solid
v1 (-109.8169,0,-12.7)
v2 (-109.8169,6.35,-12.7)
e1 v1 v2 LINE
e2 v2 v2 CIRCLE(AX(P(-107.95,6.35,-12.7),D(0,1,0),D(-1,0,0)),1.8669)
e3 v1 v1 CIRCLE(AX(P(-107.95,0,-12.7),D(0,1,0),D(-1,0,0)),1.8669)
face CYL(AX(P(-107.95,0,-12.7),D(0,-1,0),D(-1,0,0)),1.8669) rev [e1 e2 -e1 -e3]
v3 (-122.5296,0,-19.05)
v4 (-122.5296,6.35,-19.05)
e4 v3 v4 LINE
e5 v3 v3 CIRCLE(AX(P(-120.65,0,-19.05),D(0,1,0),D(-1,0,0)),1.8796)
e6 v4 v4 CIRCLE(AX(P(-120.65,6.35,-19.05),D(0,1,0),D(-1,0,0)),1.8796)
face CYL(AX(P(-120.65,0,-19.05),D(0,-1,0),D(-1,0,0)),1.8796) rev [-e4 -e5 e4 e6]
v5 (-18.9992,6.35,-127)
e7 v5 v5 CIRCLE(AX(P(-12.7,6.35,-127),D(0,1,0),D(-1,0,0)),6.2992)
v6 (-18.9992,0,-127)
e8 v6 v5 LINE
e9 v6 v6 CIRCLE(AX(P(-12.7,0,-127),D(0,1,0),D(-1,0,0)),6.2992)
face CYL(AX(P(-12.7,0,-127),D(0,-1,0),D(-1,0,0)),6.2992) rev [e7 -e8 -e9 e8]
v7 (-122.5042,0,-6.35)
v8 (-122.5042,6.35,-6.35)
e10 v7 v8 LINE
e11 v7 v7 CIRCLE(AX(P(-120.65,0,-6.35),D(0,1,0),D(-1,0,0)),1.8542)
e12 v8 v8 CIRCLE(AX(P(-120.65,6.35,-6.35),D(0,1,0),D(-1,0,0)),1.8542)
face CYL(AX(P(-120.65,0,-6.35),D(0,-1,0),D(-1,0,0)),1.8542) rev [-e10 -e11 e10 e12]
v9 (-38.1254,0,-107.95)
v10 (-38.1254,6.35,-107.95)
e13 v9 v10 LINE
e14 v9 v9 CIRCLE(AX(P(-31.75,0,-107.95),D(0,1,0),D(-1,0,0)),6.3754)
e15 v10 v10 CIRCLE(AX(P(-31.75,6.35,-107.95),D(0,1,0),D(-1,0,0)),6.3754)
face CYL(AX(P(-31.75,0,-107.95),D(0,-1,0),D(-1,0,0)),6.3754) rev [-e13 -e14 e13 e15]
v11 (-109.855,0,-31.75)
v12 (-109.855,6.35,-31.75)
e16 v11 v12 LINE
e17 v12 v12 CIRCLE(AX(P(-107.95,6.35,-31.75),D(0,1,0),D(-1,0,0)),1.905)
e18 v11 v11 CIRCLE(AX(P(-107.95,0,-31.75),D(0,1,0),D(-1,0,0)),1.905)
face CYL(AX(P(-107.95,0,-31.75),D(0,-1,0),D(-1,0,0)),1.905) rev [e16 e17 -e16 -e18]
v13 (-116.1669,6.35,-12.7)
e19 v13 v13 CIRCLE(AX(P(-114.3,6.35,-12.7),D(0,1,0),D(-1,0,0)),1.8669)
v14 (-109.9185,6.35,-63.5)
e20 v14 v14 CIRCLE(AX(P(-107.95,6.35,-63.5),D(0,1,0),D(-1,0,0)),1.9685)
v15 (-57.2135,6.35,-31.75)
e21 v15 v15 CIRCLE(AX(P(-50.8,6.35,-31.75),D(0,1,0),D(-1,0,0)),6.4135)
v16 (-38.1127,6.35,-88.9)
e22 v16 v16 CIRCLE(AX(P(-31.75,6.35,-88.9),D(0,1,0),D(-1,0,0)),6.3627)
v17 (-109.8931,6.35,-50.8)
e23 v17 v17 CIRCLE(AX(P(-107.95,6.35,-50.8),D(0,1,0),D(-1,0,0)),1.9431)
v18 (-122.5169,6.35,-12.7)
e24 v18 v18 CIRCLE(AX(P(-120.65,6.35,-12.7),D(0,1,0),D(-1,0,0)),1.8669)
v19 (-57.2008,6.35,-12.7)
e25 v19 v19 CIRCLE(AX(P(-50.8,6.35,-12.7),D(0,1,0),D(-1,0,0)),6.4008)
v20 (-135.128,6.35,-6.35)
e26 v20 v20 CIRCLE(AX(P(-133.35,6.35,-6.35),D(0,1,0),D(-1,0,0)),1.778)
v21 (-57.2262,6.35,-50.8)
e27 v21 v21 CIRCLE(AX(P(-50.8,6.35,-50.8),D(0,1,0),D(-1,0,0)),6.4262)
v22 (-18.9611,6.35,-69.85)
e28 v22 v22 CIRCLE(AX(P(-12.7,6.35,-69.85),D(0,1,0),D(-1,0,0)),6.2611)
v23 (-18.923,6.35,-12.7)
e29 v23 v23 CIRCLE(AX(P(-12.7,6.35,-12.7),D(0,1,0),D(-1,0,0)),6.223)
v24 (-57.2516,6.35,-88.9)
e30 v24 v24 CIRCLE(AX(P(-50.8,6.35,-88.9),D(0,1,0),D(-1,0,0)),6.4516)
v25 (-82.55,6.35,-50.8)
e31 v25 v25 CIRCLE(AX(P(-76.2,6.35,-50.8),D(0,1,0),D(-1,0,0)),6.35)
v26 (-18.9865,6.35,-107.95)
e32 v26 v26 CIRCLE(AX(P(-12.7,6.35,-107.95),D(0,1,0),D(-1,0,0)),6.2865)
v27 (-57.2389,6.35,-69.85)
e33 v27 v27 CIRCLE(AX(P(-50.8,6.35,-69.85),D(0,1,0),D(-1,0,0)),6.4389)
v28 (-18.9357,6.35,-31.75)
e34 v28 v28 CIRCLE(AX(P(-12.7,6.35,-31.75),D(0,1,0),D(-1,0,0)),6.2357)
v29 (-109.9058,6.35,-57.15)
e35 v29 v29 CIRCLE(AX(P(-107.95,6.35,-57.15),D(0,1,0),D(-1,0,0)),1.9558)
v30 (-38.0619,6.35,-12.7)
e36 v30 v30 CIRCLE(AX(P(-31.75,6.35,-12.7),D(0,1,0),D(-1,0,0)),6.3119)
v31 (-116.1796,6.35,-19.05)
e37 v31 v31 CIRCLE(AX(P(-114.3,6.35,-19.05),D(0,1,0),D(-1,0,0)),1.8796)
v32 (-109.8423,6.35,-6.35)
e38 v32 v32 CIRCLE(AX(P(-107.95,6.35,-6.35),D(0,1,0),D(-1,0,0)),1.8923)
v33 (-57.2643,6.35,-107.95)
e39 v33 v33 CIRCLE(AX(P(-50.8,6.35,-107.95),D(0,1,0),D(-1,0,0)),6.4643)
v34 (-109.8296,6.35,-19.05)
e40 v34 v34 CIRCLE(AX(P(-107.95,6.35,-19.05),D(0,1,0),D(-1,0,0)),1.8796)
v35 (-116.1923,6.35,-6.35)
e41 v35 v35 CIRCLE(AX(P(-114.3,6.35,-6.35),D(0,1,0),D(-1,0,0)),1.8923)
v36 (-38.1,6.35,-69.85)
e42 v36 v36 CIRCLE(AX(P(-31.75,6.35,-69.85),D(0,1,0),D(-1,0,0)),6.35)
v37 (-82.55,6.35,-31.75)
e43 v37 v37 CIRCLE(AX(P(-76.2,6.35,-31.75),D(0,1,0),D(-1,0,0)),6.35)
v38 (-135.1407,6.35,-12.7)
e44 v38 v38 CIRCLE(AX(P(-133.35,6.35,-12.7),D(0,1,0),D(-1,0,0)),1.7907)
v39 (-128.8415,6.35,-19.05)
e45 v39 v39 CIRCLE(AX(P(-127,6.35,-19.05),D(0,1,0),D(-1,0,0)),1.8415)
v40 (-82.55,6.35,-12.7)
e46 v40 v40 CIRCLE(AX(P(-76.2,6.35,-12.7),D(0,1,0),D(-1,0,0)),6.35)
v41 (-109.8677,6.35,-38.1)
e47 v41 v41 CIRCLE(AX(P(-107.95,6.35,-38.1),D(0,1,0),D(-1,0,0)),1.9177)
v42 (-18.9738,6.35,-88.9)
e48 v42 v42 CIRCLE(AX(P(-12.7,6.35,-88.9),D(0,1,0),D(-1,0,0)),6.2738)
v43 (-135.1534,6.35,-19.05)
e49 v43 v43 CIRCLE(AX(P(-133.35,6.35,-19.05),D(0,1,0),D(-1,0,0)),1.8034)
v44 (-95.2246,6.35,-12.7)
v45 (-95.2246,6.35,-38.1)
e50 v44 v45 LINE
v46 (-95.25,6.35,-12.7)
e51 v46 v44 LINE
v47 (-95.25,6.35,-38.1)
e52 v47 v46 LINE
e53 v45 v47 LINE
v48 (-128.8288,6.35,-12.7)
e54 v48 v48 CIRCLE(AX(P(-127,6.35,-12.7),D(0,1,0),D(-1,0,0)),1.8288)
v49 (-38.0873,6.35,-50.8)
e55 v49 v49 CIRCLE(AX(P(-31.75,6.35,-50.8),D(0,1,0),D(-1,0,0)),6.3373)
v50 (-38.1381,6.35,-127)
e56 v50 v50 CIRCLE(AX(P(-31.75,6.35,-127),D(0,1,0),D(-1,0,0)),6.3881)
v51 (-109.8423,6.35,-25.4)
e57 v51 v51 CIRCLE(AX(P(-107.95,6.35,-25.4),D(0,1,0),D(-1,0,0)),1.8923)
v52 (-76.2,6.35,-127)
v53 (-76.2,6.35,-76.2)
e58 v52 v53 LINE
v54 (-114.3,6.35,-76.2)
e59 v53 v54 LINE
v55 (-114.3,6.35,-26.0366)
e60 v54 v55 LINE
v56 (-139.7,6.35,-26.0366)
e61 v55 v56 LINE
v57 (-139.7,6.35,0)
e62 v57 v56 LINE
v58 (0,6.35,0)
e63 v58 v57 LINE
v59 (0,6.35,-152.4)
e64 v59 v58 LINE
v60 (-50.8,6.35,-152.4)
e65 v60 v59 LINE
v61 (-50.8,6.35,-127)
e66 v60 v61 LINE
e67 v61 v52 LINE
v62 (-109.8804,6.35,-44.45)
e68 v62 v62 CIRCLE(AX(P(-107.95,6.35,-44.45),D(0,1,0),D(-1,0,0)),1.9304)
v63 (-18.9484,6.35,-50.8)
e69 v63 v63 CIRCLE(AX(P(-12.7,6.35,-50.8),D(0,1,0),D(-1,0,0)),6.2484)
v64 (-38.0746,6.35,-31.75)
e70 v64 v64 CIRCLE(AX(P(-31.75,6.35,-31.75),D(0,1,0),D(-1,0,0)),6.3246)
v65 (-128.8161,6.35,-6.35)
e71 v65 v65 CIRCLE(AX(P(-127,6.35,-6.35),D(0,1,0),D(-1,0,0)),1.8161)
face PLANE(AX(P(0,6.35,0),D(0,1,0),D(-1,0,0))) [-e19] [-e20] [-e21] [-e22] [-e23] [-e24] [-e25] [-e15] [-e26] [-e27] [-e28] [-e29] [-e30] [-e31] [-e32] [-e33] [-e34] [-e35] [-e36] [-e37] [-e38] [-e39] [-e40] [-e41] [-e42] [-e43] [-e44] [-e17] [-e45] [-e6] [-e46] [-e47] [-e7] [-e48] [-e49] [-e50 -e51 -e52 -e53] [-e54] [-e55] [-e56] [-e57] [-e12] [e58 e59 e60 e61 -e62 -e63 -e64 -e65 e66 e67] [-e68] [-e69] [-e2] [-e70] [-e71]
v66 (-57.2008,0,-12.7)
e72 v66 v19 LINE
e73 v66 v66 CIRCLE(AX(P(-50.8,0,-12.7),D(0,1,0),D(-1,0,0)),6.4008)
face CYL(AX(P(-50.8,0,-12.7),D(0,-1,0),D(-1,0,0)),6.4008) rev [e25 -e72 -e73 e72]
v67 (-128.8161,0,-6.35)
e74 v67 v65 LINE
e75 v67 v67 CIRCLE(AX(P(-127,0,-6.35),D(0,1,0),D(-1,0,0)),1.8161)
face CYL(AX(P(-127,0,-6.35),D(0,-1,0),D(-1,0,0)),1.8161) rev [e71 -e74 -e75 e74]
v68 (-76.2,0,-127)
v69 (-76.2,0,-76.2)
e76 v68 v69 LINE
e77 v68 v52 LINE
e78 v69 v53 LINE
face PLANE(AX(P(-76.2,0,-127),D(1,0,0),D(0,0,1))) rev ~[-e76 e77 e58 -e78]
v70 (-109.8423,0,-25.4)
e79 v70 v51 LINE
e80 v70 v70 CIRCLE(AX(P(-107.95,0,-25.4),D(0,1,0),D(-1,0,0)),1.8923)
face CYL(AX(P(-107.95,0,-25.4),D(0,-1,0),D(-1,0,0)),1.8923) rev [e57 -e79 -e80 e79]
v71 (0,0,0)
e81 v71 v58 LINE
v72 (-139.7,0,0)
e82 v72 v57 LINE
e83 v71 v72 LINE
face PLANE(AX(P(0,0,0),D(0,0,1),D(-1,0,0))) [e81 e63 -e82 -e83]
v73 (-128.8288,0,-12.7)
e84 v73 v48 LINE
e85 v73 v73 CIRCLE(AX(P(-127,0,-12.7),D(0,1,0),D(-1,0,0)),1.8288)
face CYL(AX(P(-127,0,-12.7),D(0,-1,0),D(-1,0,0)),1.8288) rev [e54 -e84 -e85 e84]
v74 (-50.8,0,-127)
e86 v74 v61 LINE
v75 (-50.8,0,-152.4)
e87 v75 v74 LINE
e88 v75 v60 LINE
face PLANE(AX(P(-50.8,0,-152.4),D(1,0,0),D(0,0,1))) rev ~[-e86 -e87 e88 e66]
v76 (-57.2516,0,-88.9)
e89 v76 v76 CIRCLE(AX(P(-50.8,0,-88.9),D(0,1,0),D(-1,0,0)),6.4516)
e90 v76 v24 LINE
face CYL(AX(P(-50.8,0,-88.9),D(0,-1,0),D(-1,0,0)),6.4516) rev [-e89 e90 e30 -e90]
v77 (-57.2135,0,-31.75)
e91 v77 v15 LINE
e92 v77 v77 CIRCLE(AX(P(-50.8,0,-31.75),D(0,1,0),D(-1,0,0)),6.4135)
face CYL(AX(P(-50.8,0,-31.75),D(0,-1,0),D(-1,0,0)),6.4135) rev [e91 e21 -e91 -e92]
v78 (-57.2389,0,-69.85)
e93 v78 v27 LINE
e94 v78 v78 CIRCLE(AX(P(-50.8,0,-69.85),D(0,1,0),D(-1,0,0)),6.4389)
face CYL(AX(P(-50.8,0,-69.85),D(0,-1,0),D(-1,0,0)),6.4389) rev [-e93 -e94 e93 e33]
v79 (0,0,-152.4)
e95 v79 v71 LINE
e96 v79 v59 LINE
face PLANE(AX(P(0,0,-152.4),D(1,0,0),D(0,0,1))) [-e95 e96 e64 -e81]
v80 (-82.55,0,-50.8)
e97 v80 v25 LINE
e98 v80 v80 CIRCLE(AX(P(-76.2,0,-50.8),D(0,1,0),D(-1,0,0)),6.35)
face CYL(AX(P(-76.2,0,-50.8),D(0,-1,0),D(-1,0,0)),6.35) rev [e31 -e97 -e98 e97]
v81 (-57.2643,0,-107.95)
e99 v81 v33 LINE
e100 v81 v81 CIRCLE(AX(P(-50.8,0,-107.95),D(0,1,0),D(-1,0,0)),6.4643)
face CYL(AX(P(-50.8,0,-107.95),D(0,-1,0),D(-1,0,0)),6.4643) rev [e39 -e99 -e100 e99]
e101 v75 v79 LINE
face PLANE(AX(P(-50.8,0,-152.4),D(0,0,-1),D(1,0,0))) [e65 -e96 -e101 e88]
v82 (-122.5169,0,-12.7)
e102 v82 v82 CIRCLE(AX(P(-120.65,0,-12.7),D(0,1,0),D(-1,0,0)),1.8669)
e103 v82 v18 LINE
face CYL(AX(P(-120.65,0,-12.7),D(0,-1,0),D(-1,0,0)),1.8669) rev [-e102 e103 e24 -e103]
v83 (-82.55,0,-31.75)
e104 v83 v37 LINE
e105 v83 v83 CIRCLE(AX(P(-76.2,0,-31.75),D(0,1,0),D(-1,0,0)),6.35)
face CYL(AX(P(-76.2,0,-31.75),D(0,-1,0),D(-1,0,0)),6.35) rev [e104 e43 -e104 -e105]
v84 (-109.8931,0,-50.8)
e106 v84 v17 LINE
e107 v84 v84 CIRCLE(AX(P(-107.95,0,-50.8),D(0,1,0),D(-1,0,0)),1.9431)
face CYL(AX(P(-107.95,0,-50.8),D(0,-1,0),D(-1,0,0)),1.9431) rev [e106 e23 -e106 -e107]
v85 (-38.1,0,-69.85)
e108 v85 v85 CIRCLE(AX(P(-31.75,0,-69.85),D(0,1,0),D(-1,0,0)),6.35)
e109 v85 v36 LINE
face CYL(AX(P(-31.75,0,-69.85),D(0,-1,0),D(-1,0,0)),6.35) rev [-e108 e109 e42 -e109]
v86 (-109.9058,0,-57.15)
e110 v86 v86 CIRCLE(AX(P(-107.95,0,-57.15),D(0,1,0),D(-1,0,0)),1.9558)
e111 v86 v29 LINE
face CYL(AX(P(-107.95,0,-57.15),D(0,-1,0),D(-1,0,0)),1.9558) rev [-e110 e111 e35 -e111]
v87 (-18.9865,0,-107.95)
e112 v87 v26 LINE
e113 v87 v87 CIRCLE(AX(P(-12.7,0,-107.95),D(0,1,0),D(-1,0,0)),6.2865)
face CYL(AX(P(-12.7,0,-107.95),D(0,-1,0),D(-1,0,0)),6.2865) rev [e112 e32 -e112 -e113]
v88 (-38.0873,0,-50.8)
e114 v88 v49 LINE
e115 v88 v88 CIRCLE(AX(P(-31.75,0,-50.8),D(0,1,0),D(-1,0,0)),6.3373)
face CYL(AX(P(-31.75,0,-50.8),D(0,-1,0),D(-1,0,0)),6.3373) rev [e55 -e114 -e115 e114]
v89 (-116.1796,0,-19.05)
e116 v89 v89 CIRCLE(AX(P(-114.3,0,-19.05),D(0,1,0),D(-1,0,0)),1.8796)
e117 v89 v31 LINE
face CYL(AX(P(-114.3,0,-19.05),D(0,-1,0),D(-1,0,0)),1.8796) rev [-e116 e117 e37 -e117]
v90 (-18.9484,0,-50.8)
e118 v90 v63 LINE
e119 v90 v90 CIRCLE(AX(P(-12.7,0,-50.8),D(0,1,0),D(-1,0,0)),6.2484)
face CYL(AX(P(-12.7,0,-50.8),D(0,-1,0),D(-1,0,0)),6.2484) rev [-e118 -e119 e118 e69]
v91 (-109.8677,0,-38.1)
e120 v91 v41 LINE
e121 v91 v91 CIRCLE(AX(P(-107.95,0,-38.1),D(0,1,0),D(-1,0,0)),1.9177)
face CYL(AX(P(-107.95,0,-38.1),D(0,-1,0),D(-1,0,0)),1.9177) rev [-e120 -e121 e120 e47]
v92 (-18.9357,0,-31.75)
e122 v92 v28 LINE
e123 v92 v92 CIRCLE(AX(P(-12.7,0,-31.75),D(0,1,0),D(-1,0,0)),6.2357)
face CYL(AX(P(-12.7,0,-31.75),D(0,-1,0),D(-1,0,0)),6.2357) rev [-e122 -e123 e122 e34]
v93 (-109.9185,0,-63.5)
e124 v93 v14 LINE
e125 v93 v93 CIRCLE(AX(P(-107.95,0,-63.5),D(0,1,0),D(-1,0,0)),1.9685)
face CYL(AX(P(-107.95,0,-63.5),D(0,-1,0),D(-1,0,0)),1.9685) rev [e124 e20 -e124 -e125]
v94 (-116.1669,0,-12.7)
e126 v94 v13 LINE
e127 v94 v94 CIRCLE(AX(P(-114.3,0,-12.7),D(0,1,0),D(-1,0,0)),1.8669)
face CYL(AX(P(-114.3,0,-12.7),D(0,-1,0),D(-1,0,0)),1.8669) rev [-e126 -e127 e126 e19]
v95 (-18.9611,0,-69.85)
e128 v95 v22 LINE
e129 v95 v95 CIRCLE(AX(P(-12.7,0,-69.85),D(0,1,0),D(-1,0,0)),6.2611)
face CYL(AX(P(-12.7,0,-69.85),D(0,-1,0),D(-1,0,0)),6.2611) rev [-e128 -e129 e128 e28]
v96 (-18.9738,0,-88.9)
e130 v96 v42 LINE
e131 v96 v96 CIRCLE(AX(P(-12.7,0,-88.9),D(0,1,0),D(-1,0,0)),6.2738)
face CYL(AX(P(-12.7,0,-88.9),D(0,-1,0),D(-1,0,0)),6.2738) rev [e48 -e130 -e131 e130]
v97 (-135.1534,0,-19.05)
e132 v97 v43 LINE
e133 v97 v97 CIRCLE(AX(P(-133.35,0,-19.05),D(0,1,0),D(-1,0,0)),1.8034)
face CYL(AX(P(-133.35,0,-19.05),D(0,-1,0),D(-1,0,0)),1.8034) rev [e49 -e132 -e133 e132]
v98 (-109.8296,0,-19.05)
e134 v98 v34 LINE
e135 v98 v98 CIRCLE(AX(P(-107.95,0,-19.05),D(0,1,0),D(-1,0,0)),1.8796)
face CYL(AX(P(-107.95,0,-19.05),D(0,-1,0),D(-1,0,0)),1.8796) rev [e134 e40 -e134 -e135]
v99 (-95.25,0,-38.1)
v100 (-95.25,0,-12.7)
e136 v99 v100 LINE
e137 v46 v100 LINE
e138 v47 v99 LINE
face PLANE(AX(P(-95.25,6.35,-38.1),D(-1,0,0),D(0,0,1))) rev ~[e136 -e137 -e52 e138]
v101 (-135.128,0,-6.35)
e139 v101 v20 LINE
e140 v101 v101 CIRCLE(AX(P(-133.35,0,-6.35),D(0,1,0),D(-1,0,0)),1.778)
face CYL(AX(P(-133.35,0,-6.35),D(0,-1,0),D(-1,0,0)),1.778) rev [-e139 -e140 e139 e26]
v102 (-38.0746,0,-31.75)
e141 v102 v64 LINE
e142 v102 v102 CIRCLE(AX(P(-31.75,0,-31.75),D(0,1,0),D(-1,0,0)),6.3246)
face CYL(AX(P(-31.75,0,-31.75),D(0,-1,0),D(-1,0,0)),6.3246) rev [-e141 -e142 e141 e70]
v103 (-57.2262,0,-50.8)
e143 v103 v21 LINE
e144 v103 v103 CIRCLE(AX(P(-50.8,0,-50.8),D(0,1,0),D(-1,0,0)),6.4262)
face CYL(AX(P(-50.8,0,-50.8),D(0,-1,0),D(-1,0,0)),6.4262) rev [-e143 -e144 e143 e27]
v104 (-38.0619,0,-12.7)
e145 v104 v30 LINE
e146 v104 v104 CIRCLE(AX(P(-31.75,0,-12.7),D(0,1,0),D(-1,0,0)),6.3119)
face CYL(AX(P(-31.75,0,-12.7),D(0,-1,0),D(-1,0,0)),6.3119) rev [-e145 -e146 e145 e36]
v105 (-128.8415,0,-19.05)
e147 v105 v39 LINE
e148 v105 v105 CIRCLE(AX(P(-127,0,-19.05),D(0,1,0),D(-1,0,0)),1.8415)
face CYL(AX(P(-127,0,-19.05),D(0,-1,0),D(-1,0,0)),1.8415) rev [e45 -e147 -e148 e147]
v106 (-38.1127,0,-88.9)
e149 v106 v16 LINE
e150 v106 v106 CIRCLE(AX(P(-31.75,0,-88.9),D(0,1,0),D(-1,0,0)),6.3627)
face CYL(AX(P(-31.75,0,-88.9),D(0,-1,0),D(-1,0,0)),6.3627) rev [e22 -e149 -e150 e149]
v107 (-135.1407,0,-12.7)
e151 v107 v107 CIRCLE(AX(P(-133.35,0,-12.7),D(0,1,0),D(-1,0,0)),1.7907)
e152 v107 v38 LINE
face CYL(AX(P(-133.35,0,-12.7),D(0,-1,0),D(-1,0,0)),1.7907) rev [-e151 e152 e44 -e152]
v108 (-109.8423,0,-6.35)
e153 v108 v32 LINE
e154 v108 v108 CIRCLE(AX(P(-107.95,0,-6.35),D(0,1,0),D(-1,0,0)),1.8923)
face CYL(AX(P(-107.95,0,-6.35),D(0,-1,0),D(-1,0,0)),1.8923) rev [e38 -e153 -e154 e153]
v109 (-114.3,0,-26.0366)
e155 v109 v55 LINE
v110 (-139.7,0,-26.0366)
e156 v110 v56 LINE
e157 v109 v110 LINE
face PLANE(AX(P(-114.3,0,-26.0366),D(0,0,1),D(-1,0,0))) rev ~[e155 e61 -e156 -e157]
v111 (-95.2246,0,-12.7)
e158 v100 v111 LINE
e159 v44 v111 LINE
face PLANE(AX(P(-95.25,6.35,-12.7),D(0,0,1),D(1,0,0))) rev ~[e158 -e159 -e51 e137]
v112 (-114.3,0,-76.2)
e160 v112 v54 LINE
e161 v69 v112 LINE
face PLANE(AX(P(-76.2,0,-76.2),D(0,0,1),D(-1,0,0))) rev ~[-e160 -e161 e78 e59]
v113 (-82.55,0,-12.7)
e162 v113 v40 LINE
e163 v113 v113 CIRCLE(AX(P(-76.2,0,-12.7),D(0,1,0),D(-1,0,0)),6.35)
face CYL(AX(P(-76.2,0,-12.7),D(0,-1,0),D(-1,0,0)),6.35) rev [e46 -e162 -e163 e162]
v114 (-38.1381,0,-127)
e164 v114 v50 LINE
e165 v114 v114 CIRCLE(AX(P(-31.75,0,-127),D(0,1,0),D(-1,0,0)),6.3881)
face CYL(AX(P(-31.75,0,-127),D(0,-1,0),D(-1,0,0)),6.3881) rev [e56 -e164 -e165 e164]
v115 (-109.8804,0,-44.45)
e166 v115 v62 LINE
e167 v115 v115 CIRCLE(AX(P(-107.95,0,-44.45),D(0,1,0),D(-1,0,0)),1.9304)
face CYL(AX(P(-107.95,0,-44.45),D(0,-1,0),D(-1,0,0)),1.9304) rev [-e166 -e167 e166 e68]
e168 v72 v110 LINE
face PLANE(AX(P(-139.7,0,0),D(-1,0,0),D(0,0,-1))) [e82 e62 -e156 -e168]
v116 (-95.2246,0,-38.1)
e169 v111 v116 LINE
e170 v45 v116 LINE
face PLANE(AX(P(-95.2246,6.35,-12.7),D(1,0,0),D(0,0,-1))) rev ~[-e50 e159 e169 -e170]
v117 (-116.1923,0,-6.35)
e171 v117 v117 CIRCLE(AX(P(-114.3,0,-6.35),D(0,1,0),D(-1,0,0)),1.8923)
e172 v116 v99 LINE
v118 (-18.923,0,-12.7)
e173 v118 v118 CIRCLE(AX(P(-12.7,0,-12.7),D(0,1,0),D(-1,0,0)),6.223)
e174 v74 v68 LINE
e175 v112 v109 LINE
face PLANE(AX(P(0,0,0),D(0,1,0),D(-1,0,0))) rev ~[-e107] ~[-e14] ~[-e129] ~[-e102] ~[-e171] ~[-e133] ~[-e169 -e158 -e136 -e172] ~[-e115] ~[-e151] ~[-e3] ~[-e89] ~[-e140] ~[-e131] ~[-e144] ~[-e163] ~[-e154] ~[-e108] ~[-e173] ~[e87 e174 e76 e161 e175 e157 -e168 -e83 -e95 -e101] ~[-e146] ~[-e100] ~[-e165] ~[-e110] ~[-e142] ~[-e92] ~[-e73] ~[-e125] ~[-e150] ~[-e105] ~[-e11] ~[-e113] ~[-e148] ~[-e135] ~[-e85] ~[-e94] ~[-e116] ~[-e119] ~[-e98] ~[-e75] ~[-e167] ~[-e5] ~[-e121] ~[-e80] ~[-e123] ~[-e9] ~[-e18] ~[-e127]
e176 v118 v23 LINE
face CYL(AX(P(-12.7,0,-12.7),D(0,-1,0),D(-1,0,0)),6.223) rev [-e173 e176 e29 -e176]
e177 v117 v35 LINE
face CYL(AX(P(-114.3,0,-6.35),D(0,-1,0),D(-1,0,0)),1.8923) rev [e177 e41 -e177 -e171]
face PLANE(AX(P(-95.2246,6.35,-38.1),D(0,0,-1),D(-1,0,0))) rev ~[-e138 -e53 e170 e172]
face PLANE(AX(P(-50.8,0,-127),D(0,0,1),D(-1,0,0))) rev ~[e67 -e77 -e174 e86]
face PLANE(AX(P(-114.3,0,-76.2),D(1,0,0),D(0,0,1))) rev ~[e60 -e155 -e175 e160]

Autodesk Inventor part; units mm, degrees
ref_plane "YZ Plane" through (0, 0, 0) normal (1, 0, 0) x (0, 1, 0)
ref_plane "XZ Plane" through (0, 0, 0) normal (0, 1, 0) x (-1, 0, 0)
ref_plane "XY Plane" through (0, 0, 0) normal (0, 0, 1) x (1, 0, 0)
sketch "Sketch1" plane through (0, 0, 0) normal (0, 1, 0) x (-1, 0, 0)
  line L0 (0, 0) -> (139.7, 0)
  line L1 (139.7, 0) -> (139.7, -152.4)
  line L2 (139.7, -152.4) -> (0, -152.4)
  line L3 (0, -152.4) -> (0, 0)
  line L4 (139.7, -152.4) -> (127, -152.4)
  line L5 (114.3, -76.2) -> (114.3, -26.0366)
  line L6 (114.3, -26.0366) -> (139.7, -26.0366)
  line L7 (139.7, -26.0366) -> (139.7, -152.4)
  line L8 (127, -152.4) -> (76.2, -152.4)
  line L9 (76.2, -127) -> (76.2, -76.2)
  line L10 (76.2, -76.2) -> (114.3, -76.2)
  line L11 (76.2, -152.4) -> (50.8, -152.4)
  line L12 (50.8, -152.4) -> (50.8, -127)
  line L13 (50.8, -127) -> (76.2, -127)
  circle A0 centre (12.7, -12.7) radius 6.35 construction
  circle A1 centre (12.7, -31.75) radius 6.35 construction
  circle A2 centre (12.7, -50.8) radius 6.35 construction
  circle A3 centre (12.7, -69.85) radius 6.35 construction
  circle A4 centre (12.7, -88.9) radius 6.35 construction
  circle A5 centre (12.7, -107.95) radius 6.35 construction
  circle A6 centre (12.7, -127) radius 6.35 construction
  circle A7 centre (31.75, -12.7) radius 6.35 construction
  circle A8 centre (31.75, -31.75) radius 6.35 construction
  circle A9 centre (31.75, -50.8) radius 6.35 construction
  circle A10 centre (31.75, -69.85) radius 6.35 construction
  circle A11 centre (31.75, -88.9) radius 6.35 construction
  circle A12 centre (31.75, -107.95) radius 6.35 construction
  circle A13 centre (31.75, -127) radius 6.35 construction
  circle A14 centre (12.7, -12.7) radius 6.223
  circle A15 centre (12.7, -31.75) radius 6.2357
  circle A16 centre (12.7, -50.8) radius 6.2484
  circle A17 centre (12.7, -69.85) radius 6.2611
  circle A18 centre (12.7, -88.9) radius 6.2738
  circle A19 centre (12.7, -107.95) radius 6.2865
  circle A20 centre (12.7, -127) radius 6.2992
  circle A21 centre (31.75, -12.7) radius 6.3119
  circle A22 centre (31.75, -31.75) radius 6.3246
  circle A23 centre (31.75, -50.8) radius 6.3373
  circle A24 centre (31.75, -69.85) radius 6.35
  circle A25 centre (31.75, -88.9) radius 6.3627
  circle A26 centre (31.75, -107.95) radius 6.3754
  circle A27 centre (31.75, -127) radius 6.3881
  circle A28 centre (50.8, -12.7) radius 6.4008
  circle A29 centre (50.8, -31.75) radius 6.4135
  circle A30 centre (50.8, -50.8) radius 6.4262
  circle A31 centre (50.8, -69.85) radius 6.4389
  circle A32 centre (50.8, -88.9) radius 6.4516
  circle A33 centre (50.8, -107.95) radius 6.4643
  circle A34 centre (76.2, -12.7) radius 6.35
  circle A35 centre (76.2, -31.75) radius 6.35
  circle A36 centre (76.2, -50.8) radius 6.35
  line L14 (6.4177, -6.5588) -> (6.4177, -14.6901) construction
  line L15 (8.0052, -4.9713) -> (8.0052, -13.1026) construction
  circle A37 centre (133.35, -6.35) radius 1.778
  circle A38 centre (133.35, -12.7) radius 1.7907
  circle A39 centre (133.35, -19.05) radius 1.8034
  circle A40 centre (127, -6.35) radius 1.8161
  circle A41 centre (127, -12.7) radius 1.8288
  circle A42 centre (127, -19.05) radius 1.8415
  circle A43 centre (120.65, -6.35) radius 1.8542
  circle A44 centre (120.65, -12.7) radius 1.8669
  circle A45 centre (120.65, -19.05) radius 1.8796
  circle A46 centre (114.3, -6.35) radius 1.8923
  circle A47 centre (114.3, -12.7) radius 1.8669
  circle A48 centre (114.3, -19.05) radius 1.8796
  circle A49 centre (107.95, -6.35) radius 1.8923
  circle A50 centre (107.95, -12.7) radius 1.8669
  circle A51 centre (107.95, -19.05) radius 1.8796
  circle A52 centre (107.95, -25.4) radius 1.8923
  circle A53 centre (107.95, -31.75) radius 1.905
  circle A54 centre (107.95, -38.1) radius 1.9177
  circle A55 centre (107.95, -44.45) radius 1.9304
  circle A56 centre (107.95, -50.8) radius 1.9431
  circle A57 centre (107.95, -57.15) radius 1.9558
  circle A58 centre (107.95, -63.5) radius 1.9685
  dimension "d0" = 139.7
  dimension "d1" = 152.4
  dimension "d3" = 127
  dimension "d5" = 76.2
  dimension "d7" = 25.4
  dimension "d8" = 12.7
  dimension "d9" = 12.7
  dimension "d10" = 12.7
  dimension "d13" = 19.05
  dimension "d16" = 19.05
  dimension "d19" = 12.446
  dimension "d20" = 12.4714
  dimension "d21" = 12.4968
  dimension "d22" = 12.5222
  dimension "d23" = 12.5476
  dimension "d24" = 12.573
  dimension "d25" = 12.5984
  dimension "d26" = 12.6238
  dimension "d27" = 12.6492
  dimension "d28" = 12.6746
  dimension "d29" = 12.7
  dimension "d30" = 12.7254
  dimension "d31" = 12.7508
  dimension "d32" = 12.7762
  dimension "d33" = 12.8016
  dimension "d34" = 12.827
  dimension "d35" = 12.8524
  dimension "d36" = 12.8778
  dimension "d37" = 12.9032
  dimension "d38" = 12.9286
  dimension "d39" = 12.7
  dimension "d40" = 12.7
  dimension "d41" = 12.7
  dimension "d44" = 50.8
  dimension "d45" = 25.4
  dimension "d46" = 25.4
  dimension "d47" = 3.556
  dimension "d48" = 6.35
  dimension "d49" = 6.35
  dimension "d50" = 3.5814
  dimension "d51" = 6.35
  dimension "d52" = 3.6068
  dimension "d53" = 6.35
  dimension "d54" = 3.6322
  dimension "d55" = 6.35
  dimension "d56" = 3.6576
  dimension "d57" = 3.683
  dimension "d58" = 3.7084
  dimension "d59" = 6.35
  dimension "d60" = 3.7338
  dimension "d61" = 3.7592
  dimension "d62" = 3.7846
  dimension "d63" = 6.35
  dimension "d64" = 3.7338
  dimension "d65" = 3.7592
  dimension "d66" = 3.7846
  dimension "d67" = 6.35
  dimension "d68" = 3.7338
  dimension "d69" = 3.7592
  dimension "d70" = 3.7846
  dimension "d71" = 6.35
  dimension "d72" = 3.81
  dimension "d73" = 3.8354
  dimension "d74" = 3.8608
extrude "Extrusion1" add sketch "Sketch1" along normal blind 6.35 contours L0 L1 L6 L5 L10 L9 L13 L12 L2 L3
sketch "Sketch2" plane through (0, 6.35, 0) normal (0, 1, 0) x (1, 0, 0)
  line L0 (-4.5975, 9.3875) -> (-4.5975, 17.5188) construction
  line L1 (-4.5975, 17.5188) -> (-1.4235, 17.5188) construction
  line L2 (-1.4235, 17.5188) -> (-1.4235, 9.3875) construction
  line L3 (-1.4235, 9.3875) -> (-4.5975, 9.3875) construction
  point P0 (0, 0)
sketch "Sketch3" plane through (0, 6.35, 0) normal (0, 1, 0) x (1, 0, 0)
  point P0 (0, 0)
sketch "Sketch4" plane through (0, 6.35, 0) normal (0, 1, 0) x (1, 0, 0)
  line L0 (-95.25, 12.7) -> (-95.2246, 12.7)
  line L1 (-95.2246, 12.7) -> (-95.2246, 38.1)
  line L2 (-95.2246, 38.1) -> (-95.25, 38.1)
  line L3 (-95.25, 38.1) -> (-95.25, 12.7)
  line L4 (-139.7, 26.0366) -> (-139.7, 0) projected
  line L5 (-139.7, 0) -> (0, 0) projected
  dimension "d84" = 0.0254
  dimension "d85" = 25.4
  dimension "d86" = 44.45
  dimension "d87" = 12.7
extrude "Extrusion2" cut sketch "Sketch4" against normal through all
properties part number "Test laser cutter tolerances"
